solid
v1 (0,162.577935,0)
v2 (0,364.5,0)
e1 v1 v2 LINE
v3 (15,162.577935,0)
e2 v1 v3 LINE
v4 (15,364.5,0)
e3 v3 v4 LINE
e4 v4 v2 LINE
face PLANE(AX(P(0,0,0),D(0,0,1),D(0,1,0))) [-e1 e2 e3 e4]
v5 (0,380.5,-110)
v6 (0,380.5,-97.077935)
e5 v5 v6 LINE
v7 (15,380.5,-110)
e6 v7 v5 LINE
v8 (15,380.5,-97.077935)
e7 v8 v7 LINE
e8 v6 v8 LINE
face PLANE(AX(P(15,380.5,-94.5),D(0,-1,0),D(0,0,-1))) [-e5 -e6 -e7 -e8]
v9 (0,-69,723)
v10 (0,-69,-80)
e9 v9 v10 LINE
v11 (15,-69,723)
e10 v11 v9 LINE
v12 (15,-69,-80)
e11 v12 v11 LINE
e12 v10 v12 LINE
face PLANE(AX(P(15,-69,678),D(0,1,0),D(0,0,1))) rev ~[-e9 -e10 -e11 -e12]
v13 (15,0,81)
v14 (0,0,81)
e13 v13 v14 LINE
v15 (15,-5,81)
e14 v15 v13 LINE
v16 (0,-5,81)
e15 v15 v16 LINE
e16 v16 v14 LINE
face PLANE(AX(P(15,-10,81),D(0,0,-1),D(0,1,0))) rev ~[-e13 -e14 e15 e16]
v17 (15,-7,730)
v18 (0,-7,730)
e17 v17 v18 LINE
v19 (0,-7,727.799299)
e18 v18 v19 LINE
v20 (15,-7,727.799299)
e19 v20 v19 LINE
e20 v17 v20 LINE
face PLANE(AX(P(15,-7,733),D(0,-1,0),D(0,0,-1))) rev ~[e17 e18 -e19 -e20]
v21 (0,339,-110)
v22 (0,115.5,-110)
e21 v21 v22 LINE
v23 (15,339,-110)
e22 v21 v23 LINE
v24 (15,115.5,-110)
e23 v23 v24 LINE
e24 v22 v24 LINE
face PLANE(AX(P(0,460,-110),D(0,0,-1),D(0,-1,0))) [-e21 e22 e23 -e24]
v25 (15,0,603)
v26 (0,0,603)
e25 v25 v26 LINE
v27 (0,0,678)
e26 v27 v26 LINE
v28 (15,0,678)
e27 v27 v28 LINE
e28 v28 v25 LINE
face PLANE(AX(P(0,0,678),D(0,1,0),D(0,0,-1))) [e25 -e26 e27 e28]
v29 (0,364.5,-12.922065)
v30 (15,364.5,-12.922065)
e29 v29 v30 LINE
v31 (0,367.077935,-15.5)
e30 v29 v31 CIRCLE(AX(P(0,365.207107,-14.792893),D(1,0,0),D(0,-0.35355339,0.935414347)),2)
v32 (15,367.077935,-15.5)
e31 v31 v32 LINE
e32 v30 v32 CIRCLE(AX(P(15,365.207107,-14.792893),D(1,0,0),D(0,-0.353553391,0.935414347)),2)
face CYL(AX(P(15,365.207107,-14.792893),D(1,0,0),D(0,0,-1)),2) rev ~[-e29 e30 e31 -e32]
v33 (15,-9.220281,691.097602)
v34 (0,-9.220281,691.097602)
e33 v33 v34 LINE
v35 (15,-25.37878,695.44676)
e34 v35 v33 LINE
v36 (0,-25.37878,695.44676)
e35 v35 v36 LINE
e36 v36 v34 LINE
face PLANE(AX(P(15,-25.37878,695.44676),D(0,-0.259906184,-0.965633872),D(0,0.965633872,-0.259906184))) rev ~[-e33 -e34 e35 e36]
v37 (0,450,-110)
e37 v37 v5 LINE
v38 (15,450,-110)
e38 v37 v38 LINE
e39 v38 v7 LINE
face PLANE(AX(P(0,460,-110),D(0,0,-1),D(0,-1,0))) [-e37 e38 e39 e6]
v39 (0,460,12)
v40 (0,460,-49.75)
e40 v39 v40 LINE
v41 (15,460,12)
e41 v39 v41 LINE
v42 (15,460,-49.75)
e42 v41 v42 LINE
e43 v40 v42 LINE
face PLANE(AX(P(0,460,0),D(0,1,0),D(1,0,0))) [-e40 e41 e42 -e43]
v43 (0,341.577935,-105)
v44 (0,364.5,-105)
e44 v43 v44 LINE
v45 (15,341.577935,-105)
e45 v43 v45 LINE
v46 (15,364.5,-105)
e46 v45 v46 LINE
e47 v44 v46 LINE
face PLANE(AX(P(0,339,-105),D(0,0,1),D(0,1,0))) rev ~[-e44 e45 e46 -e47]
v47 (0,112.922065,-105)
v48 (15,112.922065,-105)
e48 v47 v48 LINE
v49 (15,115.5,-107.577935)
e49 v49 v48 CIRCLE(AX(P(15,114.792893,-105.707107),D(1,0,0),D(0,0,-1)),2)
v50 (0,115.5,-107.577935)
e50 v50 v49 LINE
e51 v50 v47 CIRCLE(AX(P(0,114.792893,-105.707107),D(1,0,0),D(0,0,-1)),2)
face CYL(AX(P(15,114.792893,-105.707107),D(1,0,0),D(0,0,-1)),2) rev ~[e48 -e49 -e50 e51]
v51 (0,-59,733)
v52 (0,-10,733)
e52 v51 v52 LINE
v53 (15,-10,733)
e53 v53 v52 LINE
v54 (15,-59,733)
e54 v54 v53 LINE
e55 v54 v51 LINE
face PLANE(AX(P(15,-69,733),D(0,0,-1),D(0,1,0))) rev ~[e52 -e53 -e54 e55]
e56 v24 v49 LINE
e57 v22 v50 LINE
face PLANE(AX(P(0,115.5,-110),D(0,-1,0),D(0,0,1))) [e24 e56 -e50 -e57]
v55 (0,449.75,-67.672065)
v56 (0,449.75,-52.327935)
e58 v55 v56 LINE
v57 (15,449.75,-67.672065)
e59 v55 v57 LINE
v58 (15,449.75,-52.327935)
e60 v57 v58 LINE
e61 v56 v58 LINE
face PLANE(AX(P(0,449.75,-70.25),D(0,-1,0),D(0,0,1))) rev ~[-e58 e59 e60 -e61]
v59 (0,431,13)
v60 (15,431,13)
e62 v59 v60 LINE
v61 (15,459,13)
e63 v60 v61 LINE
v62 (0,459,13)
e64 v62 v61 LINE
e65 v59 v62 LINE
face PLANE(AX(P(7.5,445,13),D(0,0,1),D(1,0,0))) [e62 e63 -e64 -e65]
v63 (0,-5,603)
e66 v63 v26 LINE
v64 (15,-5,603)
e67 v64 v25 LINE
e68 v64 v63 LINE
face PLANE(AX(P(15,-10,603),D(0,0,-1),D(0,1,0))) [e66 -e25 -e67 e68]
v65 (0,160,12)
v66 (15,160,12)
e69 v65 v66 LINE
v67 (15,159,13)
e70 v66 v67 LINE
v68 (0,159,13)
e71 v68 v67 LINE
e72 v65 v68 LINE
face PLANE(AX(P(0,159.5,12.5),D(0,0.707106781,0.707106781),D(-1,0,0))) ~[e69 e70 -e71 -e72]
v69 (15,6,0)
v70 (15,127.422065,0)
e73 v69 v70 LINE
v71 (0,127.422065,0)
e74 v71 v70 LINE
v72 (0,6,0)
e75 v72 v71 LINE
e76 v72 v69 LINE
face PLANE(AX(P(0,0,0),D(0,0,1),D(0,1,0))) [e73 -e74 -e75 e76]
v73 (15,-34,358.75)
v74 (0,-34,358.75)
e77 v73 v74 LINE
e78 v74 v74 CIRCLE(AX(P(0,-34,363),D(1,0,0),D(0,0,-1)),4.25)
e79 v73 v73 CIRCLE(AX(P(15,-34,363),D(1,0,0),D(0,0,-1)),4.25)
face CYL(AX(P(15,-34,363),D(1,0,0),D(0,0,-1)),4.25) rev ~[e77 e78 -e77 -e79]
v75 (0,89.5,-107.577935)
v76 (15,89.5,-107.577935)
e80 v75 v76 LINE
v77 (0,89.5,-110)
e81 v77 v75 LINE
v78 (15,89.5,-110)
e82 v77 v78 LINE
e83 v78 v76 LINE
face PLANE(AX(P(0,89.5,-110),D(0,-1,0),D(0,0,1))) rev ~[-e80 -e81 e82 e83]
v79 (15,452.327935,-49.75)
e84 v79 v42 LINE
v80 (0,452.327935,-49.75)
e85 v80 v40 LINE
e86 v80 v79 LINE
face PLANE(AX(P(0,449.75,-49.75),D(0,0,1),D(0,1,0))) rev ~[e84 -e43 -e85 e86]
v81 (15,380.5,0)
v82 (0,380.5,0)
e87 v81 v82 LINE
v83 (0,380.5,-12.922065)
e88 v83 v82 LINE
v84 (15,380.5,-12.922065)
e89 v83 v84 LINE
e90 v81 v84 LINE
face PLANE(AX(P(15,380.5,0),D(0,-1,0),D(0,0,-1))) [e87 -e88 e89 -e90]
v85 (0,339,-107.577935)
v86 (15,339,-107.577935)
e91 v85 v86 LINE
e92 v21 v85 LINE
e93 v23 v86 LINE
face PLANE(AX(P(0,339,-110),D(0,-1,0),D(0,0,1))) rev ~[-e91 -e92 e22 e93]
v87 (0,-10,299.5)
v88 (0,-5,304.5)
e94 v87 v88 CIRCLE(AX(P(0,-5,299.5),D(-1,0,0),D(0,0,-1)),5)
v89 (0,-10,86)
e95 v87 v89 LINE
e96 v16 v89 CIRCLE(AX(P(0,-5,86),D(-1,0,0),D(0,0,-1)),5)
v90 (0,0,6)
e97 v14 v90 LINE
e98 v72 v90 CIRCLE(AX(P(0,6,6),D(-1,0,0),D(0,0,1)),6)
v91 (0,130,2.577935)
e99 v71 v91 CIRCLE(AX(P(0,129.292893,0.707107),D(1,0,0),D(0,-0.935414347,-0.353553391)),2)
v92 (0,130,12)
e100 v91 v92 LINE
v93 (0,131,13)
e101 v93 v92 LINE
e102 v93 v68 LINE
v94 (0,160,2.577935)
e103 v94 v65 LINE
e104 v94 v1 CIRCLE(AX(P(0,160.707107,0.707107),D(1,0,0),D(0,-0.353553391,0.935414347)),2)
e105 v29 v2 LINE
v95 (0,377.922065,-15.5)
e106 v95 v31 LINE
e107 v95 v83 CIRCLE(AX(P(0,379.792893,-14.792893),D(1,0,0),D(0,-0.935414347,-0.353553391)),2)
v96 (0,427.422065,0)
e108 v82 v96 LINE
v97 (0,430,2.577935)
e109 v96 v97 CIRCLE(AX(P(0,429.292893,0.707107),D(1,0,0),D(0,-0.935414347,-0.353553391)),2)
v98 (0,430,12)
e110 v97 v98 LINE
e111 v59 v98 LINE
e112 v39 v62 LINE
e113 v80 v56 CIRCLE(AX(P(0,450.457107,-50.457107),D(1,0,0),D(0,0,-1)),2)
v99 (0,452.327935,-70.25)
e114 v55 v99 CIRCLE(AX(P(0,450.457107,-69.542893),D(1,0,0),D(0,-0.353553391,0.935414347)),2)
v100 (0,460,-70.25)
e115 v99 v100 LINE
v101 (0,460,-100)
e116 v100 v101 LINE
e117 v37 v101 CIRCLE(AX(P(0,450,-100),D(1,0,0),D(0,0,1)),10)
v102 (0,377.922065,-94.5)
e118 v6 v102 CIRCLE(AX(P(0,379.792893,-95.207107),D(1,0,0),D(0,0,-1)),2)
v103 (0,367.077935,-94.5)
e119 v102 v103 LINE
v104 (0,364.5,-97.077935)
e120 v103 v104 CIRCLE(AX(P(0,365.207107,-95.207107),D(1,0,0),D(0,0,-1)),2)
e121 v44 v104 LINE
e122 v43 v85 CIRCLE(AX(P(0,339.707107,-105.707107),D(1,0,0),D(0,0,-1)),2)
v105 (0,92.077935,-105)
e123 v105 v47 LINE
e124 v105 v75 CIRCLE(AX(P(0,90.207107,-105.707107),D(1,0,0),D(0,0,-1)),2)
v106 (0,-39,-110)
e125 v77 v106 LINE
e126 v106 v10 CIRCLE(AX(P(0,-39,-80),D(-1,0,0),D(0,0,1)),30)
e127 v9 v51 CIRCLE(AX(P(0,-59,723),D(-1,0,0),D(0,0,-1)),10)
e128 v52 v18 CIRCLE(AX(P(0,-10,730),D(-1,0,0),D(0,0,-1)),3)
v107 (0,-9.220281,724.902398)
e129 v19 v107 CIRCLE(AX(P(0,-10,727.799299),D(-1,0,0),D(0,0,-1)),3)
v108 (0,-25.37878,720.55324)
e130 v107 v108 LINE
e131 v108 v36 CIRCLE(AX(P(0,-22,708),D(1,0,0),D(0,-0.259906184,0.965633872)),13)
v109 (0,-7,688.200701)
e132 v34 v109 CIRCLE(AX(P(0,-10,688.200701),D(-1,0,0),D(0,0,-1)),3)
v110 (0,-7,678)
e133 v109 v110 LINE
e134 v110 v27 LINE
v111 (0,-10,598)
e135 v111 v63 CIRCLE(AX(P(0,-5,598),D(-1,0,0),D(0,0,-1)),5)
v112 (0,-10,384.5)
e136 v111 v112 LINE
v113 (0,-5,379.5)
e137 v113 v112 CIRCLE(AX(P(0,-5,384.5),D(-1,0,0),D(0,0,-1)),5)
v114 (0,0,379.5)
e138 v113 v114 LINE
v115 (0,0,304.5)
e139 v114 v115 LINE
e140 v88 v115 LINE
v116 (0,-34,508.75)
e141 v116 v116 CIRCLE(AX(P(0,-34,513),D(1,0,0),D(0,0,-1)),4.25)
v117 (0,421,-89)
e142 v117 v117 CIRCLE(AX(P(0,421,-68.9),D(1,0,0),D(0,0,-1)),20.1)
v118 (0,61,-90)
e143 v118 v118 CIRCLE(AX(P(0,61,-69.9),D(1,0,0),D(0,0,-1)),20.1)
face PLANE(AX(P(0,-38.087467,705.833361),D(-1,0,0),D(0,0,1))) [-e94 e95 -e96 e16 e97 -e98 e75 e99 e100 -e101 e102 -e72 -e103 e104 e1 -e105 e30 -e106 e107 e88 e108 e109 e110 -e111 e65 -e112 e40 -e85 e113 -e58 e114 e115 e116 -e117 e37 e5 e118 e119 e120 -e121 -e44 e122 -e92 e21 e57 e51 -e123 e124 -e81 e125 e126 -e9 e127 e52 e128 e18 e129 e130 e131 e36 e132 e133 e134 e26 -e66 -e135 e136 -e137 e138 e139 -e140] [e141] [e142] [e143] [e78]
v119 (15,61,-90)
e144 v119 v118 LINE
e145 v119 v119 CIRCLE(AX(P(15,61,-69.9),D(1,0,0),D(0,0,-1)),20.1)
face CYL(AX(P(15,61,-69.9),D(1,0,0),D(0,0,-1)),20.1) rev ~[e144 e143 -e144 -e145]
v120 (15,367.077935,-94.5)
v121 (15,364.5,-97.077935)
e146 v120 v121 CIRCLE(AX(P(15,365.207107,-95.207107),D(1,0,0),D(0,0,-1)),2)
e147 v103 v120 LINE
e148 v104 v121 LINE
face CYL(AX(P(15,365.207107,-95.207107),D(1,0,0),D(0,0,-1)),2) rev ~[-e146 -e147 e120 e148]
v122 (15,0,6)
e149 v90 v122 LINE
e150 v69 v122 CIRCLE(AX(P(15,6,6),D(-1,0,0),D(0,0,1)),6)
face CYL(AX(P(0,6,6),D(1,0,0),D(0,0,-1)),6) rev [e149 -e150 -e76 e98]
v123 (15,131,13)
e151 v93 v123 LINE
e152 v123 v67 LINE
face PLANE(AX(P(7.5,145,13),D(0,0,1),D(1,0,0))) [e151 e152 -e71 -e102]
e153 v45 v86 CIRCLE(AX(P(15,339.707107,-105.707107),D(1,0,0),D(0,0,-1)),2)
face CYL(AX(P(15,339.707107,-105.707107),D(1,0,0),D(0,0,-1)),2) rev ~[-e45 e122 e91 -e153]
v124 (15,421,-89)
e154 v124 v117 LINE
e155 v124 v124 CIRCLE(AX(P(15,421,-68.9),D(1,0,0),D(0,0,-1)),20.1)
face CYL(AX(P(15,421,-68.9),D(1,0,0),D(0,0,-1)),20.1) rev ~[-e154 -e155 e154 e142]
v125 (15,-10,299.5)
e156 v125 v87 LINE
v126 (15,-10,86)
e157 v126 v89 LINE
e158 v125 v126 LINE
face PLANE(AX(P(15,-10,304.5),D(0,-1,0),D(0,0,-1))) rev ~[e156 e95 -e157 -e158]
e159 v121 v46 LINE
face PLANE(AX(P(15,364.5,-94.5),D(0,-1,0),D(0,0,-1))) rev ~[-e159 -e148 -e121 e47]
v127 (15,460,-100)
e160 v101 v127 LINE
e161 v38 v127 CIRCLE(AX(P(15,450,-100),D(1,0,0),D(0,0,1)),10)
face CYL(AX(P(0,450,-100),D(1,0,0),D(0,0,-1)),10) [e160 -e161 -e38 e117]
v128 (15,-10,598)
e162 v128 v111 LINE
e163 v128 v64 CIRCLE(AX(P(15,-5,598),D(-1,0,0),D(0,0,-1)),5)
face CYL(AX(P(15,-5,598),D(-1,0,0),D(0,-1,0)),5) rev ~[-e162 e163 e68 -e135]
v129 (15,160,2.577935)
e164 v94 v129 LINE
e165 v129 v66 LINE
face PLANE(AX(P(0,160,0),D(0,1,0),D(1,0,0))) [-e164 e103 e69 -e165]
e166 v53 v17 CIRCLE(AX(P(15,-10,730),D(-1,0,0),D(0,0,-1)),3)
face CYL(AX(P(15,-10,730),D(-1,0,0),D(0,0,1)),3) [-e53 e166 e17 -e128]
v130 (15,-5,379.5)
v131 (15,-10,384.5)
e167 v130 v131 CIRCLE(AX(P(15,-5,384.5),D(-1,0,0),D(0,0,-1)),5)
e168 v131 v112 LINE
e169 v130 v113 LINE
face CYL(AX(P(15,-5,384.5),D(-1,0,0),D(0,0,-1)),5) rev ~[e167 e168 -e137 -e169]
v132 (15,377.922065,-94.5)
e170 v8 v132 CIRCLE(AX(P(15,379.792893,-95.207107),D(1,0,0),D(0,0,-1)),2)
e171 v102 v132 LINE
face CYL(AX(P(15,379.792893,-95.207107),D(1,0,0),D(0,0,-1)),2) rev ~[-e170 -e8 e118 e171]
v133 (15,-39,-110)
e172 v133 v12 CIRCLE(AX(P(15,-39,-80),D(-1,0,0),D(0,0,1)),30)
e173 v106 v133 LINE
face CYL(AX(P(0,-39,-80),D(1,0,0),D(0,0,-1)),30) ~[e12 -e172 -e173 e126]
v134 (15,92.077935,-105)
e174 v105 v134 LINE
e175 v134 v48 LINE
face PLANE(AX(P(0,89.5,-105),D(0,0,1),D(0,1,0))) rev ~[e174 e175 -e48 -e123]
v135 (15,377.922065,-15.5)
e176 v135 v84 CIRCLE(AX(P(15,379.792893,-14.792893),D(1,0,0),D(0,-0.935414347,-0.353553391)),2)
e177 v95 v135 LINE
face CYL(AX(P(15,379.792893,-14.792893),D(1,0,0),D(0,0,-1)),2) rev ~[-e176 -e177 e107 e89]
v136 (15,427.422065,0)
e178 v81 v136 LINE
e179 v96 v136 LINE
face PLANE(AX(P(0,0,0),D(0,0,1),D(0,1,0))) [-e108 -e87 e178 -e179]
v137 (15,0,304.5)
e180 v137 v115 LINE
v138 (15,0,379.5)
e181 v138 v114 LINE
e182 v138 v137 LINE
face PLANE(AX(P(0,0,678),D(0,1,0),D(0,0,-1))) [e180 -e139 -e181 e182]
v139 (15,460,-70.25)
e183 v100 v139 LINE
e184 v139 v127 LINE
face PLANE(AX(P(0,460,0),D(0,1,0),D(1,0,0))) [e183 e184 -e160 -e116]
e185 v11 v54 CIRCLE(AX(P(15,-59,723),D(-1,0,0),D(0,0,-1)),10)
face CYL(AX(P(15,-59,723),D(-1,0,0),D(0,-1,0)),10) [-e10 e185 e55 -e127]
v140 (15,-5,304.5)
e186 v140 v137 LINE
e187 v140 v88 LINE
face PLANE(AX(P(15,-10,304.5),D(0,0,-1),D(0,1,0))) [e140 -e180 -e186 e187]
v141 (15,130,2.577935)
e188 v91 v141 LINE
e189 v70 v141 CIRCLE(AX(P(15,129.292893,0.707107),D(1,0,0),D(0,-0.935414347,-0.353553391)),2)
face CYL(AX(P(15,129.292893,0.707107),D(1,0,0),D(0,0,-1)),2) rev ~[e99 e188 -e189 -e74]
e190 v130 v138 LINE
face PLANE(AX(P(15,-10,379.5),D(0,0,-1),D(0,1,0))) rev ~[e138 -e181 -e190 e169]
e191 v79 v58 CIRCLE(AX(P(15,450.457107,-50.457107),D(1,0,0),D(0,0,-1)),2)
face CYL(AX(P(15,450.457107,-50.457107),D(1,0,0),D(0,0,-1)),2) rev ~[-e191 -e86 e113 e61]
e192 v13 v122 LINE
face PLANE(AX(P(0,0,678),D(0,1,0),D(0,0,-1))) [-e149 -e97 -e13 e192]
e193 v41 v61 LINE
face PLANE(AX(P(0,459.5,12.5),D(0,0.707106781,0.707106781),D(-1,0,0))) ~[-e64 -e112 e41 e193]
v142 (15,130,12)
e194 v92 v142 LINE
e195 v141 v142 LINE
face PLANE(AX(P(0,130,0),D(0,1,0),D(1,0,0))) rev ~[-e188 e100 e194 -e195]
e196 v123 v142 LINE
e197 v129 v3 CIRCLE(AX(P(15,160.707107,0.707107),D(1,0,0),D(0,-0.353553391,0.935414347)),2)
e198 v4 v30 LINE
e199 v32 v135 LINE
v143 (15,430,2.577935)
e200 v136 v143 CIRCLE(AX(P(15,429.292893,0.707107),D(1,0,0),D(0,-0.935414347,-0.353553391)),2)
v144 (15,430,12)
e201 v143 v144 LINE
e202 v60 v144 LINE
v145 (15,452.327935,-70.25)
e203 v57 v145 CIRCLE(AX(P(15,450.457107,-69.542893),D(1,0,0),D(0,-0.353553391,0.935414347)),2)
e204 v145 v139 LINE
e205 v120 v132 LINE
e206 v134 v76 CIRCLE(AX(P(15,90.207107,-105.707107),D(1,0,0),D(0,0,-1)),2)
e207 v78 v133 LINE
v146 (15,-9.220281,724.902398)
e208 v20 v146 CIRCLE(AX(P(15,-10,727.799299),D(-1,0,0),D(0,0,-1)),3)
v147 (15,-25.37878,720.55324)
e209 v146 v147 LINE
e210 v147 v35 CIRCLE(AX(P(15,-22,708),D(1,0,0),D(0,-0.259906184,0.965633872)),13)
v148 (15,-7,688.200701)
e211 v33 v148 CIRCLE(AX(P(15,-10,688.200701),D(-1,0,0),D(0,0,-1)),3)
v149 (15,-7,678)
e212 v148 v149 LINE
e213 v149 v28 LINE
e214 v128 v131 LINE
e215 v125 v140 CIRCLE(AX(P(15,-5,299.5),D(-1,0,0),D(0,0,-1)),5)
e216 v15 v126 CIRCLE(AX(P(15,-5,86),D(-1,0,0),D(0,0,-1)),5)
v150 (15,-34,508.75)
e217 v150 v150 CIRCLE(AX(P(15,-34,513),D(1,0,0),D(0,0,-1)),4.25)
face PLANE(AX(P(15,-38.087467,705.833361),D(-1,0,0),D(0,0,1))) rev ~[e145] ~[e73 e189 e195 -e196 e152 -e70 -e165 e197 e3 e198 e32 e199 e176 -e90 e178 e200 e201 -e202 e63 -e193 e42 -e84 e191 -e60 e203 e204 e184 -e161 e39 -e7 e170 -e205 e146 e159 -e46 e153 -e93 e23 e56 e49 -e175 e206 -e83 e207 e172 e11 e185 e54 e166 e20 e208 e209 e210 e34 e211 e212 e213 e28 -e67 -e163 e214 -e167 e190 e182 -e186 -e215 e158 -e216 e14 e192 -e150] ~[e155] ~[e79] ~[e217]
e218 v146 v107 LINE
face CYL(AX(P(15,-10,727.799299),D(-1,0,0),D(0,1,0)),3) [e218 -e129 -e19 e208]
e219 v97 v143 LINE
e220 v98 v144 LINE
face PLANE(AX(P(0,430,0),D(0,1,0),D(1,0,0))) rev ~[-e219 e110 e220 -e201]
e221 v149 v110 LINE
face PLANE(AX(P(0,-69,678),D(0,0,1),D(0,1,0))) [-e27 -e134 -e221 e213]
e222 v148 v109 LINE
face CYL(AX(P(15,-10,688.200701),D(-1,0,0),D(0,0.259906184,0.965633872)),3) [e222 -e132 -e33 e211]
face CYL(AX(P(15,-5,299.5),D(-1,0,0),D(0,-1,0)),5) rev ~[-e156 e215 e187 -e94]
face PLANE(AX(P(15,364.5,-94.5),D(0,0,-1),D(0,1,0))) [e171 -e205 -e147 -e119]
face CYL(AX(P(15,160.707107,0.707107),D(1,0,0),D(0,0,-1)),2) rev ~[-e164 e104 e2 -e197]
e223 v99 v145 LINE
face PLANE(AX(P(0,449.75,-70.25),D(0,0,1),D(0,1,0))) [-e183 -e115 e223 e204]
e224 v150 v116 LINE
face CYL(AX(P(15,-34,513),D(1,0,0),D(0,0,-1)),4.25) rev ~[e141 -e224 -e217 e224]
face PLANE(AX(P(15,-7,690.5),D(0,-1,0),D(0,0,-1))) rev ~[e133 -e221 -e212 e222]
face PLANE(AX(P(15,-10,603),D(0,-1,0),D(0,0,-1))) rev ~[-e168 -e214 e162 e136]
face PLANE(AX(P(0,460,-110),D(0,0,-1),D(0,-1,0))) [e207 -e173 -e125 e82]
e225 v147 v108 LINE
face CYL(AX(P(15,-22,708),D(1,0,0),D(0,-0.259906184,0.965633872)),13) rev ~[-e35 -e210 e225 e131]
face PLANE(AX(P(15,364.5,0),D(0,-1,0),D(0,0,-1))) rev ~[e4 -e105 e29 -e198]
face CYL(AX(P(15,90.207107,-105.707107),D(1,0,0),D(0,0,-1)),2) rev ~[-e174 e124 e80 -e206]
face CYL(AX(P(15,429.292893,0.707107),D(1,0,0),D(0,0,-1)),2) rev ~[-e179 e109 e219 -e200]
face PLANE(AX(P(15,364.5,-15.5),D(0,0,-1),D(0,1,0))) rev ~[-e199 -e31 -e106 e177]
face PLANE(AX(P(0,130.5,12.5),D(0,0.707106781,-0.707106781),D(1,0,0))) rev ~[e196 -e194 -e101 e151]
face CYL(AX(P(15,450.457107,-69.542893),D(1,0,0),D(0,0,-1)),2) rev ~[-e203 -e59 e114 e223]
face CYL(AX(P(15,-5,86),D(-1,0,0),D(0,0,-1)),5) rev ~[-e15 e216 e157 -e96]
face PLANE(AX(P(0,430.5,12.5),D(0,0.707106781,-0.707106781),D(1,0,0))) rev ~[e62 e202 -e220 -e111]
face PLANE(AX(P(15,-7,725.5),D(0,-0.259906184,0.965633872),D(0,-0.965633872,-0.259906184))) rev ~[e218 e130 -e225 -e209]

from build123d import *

# Parameters (mm, degrees)
BOSS_EXTRUDE1_DEPTH = 15
FILLET1_R           = 30
SKETCH2_R           = 20.1
CUT_EXTRUDE1_DEPTH  = 820.456527218
FILLET2_R           = 6
SKETCH4_W           = 15
SKETCH4_H           = 30
BOSS_EXTRUDE2_DEPTH = 13
FILLET3_R           = 10
SKETCH5_W           = 20.5
SKETCH5_H           = 10.25
CUT_EXTRUDE3_DEPTH  = 820.456527218
SKETCH6_W           = 15.5
SKETCH6_H           = 16
CUT_EXTRUDE4_DEPTH  = 820.456527218
SKETCH7_W           = 5
SKETCH7_H           = 25.5
SKETCH7_H_2         = 26
CUT_EXTRUDE5_DEPTH  = 820.456527218
CHAMFER1_SIZE       = 1
SKETCH8_W           = 223.5
SKETCH8_H           = 10
CUT_EXTRUDE6_DEPTH  = 15
FILLET4_R           = 5
SKETCH9_R           = 2
CUT_EXTRUDE7_DEPTH  = 820.456527218
SKETCH10_R          = 2
CUT_EXTRUDE8_DEPTH  = 820.456527218
SKETCH11_R          = 2
CUT_EXTRUDE9_DEPTH  = 820.456527218
SKETCH12_R          = 2
CUT_EXTRUDE10_DEPTH = 820.456527218
BOSS_EXTRUDE3_DEPTH = 15
FILLET5_R           = 10
FILLET6_R           = 3
SKETCH14_R          = 4.25
CUT_EXTRUDE11_DEPTH = 866.513720284


with BuildPart() as part:
    # Sketch1 → Boss-Extrude1 (new body)
    with BuildSketch(Plane(origin=(0, 0, 0), x_dir=(0, 0, -1), z_dir=(1, 0, 0))):
        Polygon((-678, 0), (0, 0), (0, 460), (110, 460), (110, -69), (-678, -69), align=None)
    extrude(amount=BOSS_EXTRUDE1_DEPTH)

    # Fillet1
    fillet1_edges = [part.edges().sort_by_distance(p)[0] for p in [
        (7.5, -69, -110),
    ]]
    fillet(fillet1_edges, radius=FILLET1_R)

    # Sketch2 → Cut-Extrude1 (cut, through all)
    with BuildSketch(Plane(origin=(15, 0, 0), x_dir=(0, 0, -1), z_dir=(1, 0, 0))):
        with Locations((68.9, 421)):
            Circle(SKETCH2_R)
        with Locations((69.9, 61)):
            Circle(SKETCH2_R)
    extrude(amount=-CUT_EXTRUDE1_DEPTH, mode=Mode.SUBTRACT)

    # Fillet2
    fillet2_edges = [part.edges().sort_by_distance(p)[0] for p in [
        (7.5, 0, 0),
    ]]
    fillet(fillet2_edges, radius=FILLET2_R)

    # Sketch4 → Boss-Extrude2 (add)
    with BuildSketch(Plane.XY):
        with Locations((7.5, 445)):
            Rectangle(SKETCH4_W, SKETCH4_H)
        with Locations((7.5, 145)):
            Rectangle(SKETCH4_W, SKETCH4_H)
    extrude(amount=BOSS_EXTRUDE2_DEPTH)

    # Fillet3
    fillet3_edges = [part.edges().sort_by_distance(p)[0] for p in [
        (7.5, 460, -110),
    ]]
    fillet(fillet3_edges, radius=FILLET3_R)

    # Sketch5 → Cut-Extrude3 (cut, through all)
    with BuildSketch(Plane.ZY):
        with Locations((-60, 454.875)):
            Rectangle(SKETCH5_W, SKETCH5_H)
    extrude(amount=-CUT_EXTRUDE3_DEPTH, mode=Mode.SUBTRACT)

    # Sketch6 → Cut-Extrude4 (cut, through all)
    with BuildSketch(Plane(origin=(15, 0, 0), x_dir=(0, 0, -1), z_dir=(1, 0, 0))):
        with Locations((102.25, 372.5)):
            Rectangle(SKETCH6_W, SKETCH6_H)
        with Locations((7.75, 372.5)):
            Rectangle(SKETCH6_W, SKETCH6_H)
    extrude(amount=-CUT_EXTRUDE4_DEPTH, mode=Mode.SUBTRACT)

    # Sketch7 → Cut-Extrude5 (cut, through all)
    with BuildSketch(Plane.ZY):
        with Locations((-107.5, 351.75)):
            Rectangle(SKETCH7_W, SKETCH7_H)
        with Locations((-107.5, 102.5)):
            Rectangle(SKETCH7_W, SKETCH7_H_2)
    extrude(amount=-CUT_EXTRUDE5_DEPTH, mode=Mode.SUBTRACT)

    # Chamfer1
    chamfer1_edges = [part.edges().sort_by_distance(p)[0] for p in [
        (7.5, 430, 13),
        (7.5, 460, 13),
        (7.5, 130, 13),
        (7.5, 160, 13),
    ]]
    chamfer(chamfer1_edges, length=CHAMFER1_SIZE)

    # Sketch8 → Cut-Extrude6 (cut)
    with BuildSketch(Plane(origin=(15, 0, 0), x_dir=(0, 0, -1), z_dir=(1, 0, 0))):
        with Locations((-491.25, -5)):
            Rectangle(SKETCH8_W, SKETCH8_H)
        with Locations((-192.75, -5)):
            Rectangle(SKETCH8_W, SKETCH8_H)
    extrude(amount=-CUT_EXTRUDE6_DEPTH, mode=Mode.SUBTRACT)

    # Fillet4
    fillet4_edges = [part.edges().sort_by_distance(p)[0] for p in [
        (7.5, -10, 603),
        (7.5, -10, 379.5),
        (7.5, -10, 81),
        (7.5, -10, 304.5),
    ]]
    fillet(fillet4_edges, radius=FILLET4_R)

    # Sketch9 → Cut-Extrude7 (cut, through all)
    with BuildSketch(Plane(origin=(15, 0, 0), x_dir=(0, 0, -1), z_dir=(1, 0, 0))):
        with Locations((-0.707106781, 129.292893219)):
            Circle(SKETCH9_R)
        with Locations((-0.707106781, 160.707106781)):
            Circle(SKETCH9_R)
        with Locations((-0.707106781, 429.292893219)):
            Circle(SKETCH9_R)
    extrude(amount=-CUT_EXTRUDE7_DEPTH, mode=Mode.SUBTRACT)

    # Sketch10 → Cut-Extrude8 (cut, through all)
    with BuildSketch(Plane(origin=(15, 0, 0), x_dir=(0, 0, -1), z_dir=(1, 0, 0))):
        with Locations((50.457106781, 450.457106781)):
            Circle(SKETCH10_R)
        with Locations((69.542893219, 450.457106781)):
            Circle(SKETCH10_R)
    extrude(amount=-CUT_EXTRUDE8_DEPTH, mode=Mode.SUBTRACT)

    # Sketch11 → Cut-Extrude9 (cut, through all)
    with BuildSketch(Plane(origin=(15, 0, 0), x_dir=(0, 0, -1), z_dir=(1, 0, 0))):
        with Locations((14.792893219, 365.207106781)):
            Circle(SKETCH11_R)
        with Locations((14.792893219, 379.792893219)):
            Circle(SKETCH11_R)
        with Locations((95.207106781, 379.792893219)):
            Circle(SKETCH11_R)
        with Locations((95.207106781, 365.207106781)):
            Circle(SKETCH11_R)
    extrude(amount=-CUT_EXTRUDE9_DEPTH, mode=Mode.SUBTRACT)

    # Sketch12 → Cut-Extrude10 (cut, through all)
    with BuildSketch(Plane(origin=(15, 0, 0), x_dir=(0, 0, -1), z_dir=(1, 0, 0))):
        with Locations((105.707106781, 90.207106781)):
            Circle(SKETCH12_R)
        with Locations((105.707106781, 114.792893219)):
            Circle(SKETCH12_R)
        with Locations((105.707106781, 339.707106781)):
            Circle(SKETCH12_R)
    extrude(amount=-CUT_EXTRUDE10_DEPTH, mode=Mode.SUBTRACT)

    # Sketch13 → Boss-Extrude3 (add)
    with BuildSketch(Plane(origin=(15, 0, 0), x_dir=(0, 0, -1), z_dir=(1, 0, 0))):
        with BuildLine():
            Line((-678, -69), (-733, -69))
            Line((-733, -69), (-733, -7))
            Line((-733, -7), (-725.5, -7))
            Line((-725.5, -7), (-720.55324034, -25.378780397))
            ThreePointArc((-720.55324034, -25.378780397), (-708, -35), (-695.44675966, -25.378780397))
            Line((-695.44675966, -25.378780397), (-690.5, -7))
            Line((-690.5, -7), (-678, -7))
            Line((-678, -7), (-678, -69))
        make_face()
    extrude(amount=-BOSS_EXTRUDE3_DEPTH)

    # Fillet5
    fillet5_edges = [part.edges().sort_by_distance(p)[0] for p in [
        (7.5, -69, 733),
    ]]
    fillet(fillet5_edges, radius=FILLET5_R)

    # Fillet6
    fillet6_edges = [part.edges().sort_by_distance(p)[0] for p in [
        (7.5, -7, 733),
        (7.5, -7, 725.5),
        (7.5, -7, 690.5),
    ]]
    fillet(fillet6_edges, radius=FILLET6_R)

    # Sketch14 → Cut-Extrude11 (cut, through all)
    with BuildSketch(Plane(origin=(15, 0, 0), x_dir=(0, 0, -1), z_dir=(1, 0, 0))):
        with Locations((-513, -34)):
            Circle(SKETCH14_R)
        with Locations((-363, -34)):
            Circle(SKETCH14_R)
    extrude(amount=-CUT_EXTRUDE11_DEPTH, mode=Mode.SUBTRACT)


solid = part.part
